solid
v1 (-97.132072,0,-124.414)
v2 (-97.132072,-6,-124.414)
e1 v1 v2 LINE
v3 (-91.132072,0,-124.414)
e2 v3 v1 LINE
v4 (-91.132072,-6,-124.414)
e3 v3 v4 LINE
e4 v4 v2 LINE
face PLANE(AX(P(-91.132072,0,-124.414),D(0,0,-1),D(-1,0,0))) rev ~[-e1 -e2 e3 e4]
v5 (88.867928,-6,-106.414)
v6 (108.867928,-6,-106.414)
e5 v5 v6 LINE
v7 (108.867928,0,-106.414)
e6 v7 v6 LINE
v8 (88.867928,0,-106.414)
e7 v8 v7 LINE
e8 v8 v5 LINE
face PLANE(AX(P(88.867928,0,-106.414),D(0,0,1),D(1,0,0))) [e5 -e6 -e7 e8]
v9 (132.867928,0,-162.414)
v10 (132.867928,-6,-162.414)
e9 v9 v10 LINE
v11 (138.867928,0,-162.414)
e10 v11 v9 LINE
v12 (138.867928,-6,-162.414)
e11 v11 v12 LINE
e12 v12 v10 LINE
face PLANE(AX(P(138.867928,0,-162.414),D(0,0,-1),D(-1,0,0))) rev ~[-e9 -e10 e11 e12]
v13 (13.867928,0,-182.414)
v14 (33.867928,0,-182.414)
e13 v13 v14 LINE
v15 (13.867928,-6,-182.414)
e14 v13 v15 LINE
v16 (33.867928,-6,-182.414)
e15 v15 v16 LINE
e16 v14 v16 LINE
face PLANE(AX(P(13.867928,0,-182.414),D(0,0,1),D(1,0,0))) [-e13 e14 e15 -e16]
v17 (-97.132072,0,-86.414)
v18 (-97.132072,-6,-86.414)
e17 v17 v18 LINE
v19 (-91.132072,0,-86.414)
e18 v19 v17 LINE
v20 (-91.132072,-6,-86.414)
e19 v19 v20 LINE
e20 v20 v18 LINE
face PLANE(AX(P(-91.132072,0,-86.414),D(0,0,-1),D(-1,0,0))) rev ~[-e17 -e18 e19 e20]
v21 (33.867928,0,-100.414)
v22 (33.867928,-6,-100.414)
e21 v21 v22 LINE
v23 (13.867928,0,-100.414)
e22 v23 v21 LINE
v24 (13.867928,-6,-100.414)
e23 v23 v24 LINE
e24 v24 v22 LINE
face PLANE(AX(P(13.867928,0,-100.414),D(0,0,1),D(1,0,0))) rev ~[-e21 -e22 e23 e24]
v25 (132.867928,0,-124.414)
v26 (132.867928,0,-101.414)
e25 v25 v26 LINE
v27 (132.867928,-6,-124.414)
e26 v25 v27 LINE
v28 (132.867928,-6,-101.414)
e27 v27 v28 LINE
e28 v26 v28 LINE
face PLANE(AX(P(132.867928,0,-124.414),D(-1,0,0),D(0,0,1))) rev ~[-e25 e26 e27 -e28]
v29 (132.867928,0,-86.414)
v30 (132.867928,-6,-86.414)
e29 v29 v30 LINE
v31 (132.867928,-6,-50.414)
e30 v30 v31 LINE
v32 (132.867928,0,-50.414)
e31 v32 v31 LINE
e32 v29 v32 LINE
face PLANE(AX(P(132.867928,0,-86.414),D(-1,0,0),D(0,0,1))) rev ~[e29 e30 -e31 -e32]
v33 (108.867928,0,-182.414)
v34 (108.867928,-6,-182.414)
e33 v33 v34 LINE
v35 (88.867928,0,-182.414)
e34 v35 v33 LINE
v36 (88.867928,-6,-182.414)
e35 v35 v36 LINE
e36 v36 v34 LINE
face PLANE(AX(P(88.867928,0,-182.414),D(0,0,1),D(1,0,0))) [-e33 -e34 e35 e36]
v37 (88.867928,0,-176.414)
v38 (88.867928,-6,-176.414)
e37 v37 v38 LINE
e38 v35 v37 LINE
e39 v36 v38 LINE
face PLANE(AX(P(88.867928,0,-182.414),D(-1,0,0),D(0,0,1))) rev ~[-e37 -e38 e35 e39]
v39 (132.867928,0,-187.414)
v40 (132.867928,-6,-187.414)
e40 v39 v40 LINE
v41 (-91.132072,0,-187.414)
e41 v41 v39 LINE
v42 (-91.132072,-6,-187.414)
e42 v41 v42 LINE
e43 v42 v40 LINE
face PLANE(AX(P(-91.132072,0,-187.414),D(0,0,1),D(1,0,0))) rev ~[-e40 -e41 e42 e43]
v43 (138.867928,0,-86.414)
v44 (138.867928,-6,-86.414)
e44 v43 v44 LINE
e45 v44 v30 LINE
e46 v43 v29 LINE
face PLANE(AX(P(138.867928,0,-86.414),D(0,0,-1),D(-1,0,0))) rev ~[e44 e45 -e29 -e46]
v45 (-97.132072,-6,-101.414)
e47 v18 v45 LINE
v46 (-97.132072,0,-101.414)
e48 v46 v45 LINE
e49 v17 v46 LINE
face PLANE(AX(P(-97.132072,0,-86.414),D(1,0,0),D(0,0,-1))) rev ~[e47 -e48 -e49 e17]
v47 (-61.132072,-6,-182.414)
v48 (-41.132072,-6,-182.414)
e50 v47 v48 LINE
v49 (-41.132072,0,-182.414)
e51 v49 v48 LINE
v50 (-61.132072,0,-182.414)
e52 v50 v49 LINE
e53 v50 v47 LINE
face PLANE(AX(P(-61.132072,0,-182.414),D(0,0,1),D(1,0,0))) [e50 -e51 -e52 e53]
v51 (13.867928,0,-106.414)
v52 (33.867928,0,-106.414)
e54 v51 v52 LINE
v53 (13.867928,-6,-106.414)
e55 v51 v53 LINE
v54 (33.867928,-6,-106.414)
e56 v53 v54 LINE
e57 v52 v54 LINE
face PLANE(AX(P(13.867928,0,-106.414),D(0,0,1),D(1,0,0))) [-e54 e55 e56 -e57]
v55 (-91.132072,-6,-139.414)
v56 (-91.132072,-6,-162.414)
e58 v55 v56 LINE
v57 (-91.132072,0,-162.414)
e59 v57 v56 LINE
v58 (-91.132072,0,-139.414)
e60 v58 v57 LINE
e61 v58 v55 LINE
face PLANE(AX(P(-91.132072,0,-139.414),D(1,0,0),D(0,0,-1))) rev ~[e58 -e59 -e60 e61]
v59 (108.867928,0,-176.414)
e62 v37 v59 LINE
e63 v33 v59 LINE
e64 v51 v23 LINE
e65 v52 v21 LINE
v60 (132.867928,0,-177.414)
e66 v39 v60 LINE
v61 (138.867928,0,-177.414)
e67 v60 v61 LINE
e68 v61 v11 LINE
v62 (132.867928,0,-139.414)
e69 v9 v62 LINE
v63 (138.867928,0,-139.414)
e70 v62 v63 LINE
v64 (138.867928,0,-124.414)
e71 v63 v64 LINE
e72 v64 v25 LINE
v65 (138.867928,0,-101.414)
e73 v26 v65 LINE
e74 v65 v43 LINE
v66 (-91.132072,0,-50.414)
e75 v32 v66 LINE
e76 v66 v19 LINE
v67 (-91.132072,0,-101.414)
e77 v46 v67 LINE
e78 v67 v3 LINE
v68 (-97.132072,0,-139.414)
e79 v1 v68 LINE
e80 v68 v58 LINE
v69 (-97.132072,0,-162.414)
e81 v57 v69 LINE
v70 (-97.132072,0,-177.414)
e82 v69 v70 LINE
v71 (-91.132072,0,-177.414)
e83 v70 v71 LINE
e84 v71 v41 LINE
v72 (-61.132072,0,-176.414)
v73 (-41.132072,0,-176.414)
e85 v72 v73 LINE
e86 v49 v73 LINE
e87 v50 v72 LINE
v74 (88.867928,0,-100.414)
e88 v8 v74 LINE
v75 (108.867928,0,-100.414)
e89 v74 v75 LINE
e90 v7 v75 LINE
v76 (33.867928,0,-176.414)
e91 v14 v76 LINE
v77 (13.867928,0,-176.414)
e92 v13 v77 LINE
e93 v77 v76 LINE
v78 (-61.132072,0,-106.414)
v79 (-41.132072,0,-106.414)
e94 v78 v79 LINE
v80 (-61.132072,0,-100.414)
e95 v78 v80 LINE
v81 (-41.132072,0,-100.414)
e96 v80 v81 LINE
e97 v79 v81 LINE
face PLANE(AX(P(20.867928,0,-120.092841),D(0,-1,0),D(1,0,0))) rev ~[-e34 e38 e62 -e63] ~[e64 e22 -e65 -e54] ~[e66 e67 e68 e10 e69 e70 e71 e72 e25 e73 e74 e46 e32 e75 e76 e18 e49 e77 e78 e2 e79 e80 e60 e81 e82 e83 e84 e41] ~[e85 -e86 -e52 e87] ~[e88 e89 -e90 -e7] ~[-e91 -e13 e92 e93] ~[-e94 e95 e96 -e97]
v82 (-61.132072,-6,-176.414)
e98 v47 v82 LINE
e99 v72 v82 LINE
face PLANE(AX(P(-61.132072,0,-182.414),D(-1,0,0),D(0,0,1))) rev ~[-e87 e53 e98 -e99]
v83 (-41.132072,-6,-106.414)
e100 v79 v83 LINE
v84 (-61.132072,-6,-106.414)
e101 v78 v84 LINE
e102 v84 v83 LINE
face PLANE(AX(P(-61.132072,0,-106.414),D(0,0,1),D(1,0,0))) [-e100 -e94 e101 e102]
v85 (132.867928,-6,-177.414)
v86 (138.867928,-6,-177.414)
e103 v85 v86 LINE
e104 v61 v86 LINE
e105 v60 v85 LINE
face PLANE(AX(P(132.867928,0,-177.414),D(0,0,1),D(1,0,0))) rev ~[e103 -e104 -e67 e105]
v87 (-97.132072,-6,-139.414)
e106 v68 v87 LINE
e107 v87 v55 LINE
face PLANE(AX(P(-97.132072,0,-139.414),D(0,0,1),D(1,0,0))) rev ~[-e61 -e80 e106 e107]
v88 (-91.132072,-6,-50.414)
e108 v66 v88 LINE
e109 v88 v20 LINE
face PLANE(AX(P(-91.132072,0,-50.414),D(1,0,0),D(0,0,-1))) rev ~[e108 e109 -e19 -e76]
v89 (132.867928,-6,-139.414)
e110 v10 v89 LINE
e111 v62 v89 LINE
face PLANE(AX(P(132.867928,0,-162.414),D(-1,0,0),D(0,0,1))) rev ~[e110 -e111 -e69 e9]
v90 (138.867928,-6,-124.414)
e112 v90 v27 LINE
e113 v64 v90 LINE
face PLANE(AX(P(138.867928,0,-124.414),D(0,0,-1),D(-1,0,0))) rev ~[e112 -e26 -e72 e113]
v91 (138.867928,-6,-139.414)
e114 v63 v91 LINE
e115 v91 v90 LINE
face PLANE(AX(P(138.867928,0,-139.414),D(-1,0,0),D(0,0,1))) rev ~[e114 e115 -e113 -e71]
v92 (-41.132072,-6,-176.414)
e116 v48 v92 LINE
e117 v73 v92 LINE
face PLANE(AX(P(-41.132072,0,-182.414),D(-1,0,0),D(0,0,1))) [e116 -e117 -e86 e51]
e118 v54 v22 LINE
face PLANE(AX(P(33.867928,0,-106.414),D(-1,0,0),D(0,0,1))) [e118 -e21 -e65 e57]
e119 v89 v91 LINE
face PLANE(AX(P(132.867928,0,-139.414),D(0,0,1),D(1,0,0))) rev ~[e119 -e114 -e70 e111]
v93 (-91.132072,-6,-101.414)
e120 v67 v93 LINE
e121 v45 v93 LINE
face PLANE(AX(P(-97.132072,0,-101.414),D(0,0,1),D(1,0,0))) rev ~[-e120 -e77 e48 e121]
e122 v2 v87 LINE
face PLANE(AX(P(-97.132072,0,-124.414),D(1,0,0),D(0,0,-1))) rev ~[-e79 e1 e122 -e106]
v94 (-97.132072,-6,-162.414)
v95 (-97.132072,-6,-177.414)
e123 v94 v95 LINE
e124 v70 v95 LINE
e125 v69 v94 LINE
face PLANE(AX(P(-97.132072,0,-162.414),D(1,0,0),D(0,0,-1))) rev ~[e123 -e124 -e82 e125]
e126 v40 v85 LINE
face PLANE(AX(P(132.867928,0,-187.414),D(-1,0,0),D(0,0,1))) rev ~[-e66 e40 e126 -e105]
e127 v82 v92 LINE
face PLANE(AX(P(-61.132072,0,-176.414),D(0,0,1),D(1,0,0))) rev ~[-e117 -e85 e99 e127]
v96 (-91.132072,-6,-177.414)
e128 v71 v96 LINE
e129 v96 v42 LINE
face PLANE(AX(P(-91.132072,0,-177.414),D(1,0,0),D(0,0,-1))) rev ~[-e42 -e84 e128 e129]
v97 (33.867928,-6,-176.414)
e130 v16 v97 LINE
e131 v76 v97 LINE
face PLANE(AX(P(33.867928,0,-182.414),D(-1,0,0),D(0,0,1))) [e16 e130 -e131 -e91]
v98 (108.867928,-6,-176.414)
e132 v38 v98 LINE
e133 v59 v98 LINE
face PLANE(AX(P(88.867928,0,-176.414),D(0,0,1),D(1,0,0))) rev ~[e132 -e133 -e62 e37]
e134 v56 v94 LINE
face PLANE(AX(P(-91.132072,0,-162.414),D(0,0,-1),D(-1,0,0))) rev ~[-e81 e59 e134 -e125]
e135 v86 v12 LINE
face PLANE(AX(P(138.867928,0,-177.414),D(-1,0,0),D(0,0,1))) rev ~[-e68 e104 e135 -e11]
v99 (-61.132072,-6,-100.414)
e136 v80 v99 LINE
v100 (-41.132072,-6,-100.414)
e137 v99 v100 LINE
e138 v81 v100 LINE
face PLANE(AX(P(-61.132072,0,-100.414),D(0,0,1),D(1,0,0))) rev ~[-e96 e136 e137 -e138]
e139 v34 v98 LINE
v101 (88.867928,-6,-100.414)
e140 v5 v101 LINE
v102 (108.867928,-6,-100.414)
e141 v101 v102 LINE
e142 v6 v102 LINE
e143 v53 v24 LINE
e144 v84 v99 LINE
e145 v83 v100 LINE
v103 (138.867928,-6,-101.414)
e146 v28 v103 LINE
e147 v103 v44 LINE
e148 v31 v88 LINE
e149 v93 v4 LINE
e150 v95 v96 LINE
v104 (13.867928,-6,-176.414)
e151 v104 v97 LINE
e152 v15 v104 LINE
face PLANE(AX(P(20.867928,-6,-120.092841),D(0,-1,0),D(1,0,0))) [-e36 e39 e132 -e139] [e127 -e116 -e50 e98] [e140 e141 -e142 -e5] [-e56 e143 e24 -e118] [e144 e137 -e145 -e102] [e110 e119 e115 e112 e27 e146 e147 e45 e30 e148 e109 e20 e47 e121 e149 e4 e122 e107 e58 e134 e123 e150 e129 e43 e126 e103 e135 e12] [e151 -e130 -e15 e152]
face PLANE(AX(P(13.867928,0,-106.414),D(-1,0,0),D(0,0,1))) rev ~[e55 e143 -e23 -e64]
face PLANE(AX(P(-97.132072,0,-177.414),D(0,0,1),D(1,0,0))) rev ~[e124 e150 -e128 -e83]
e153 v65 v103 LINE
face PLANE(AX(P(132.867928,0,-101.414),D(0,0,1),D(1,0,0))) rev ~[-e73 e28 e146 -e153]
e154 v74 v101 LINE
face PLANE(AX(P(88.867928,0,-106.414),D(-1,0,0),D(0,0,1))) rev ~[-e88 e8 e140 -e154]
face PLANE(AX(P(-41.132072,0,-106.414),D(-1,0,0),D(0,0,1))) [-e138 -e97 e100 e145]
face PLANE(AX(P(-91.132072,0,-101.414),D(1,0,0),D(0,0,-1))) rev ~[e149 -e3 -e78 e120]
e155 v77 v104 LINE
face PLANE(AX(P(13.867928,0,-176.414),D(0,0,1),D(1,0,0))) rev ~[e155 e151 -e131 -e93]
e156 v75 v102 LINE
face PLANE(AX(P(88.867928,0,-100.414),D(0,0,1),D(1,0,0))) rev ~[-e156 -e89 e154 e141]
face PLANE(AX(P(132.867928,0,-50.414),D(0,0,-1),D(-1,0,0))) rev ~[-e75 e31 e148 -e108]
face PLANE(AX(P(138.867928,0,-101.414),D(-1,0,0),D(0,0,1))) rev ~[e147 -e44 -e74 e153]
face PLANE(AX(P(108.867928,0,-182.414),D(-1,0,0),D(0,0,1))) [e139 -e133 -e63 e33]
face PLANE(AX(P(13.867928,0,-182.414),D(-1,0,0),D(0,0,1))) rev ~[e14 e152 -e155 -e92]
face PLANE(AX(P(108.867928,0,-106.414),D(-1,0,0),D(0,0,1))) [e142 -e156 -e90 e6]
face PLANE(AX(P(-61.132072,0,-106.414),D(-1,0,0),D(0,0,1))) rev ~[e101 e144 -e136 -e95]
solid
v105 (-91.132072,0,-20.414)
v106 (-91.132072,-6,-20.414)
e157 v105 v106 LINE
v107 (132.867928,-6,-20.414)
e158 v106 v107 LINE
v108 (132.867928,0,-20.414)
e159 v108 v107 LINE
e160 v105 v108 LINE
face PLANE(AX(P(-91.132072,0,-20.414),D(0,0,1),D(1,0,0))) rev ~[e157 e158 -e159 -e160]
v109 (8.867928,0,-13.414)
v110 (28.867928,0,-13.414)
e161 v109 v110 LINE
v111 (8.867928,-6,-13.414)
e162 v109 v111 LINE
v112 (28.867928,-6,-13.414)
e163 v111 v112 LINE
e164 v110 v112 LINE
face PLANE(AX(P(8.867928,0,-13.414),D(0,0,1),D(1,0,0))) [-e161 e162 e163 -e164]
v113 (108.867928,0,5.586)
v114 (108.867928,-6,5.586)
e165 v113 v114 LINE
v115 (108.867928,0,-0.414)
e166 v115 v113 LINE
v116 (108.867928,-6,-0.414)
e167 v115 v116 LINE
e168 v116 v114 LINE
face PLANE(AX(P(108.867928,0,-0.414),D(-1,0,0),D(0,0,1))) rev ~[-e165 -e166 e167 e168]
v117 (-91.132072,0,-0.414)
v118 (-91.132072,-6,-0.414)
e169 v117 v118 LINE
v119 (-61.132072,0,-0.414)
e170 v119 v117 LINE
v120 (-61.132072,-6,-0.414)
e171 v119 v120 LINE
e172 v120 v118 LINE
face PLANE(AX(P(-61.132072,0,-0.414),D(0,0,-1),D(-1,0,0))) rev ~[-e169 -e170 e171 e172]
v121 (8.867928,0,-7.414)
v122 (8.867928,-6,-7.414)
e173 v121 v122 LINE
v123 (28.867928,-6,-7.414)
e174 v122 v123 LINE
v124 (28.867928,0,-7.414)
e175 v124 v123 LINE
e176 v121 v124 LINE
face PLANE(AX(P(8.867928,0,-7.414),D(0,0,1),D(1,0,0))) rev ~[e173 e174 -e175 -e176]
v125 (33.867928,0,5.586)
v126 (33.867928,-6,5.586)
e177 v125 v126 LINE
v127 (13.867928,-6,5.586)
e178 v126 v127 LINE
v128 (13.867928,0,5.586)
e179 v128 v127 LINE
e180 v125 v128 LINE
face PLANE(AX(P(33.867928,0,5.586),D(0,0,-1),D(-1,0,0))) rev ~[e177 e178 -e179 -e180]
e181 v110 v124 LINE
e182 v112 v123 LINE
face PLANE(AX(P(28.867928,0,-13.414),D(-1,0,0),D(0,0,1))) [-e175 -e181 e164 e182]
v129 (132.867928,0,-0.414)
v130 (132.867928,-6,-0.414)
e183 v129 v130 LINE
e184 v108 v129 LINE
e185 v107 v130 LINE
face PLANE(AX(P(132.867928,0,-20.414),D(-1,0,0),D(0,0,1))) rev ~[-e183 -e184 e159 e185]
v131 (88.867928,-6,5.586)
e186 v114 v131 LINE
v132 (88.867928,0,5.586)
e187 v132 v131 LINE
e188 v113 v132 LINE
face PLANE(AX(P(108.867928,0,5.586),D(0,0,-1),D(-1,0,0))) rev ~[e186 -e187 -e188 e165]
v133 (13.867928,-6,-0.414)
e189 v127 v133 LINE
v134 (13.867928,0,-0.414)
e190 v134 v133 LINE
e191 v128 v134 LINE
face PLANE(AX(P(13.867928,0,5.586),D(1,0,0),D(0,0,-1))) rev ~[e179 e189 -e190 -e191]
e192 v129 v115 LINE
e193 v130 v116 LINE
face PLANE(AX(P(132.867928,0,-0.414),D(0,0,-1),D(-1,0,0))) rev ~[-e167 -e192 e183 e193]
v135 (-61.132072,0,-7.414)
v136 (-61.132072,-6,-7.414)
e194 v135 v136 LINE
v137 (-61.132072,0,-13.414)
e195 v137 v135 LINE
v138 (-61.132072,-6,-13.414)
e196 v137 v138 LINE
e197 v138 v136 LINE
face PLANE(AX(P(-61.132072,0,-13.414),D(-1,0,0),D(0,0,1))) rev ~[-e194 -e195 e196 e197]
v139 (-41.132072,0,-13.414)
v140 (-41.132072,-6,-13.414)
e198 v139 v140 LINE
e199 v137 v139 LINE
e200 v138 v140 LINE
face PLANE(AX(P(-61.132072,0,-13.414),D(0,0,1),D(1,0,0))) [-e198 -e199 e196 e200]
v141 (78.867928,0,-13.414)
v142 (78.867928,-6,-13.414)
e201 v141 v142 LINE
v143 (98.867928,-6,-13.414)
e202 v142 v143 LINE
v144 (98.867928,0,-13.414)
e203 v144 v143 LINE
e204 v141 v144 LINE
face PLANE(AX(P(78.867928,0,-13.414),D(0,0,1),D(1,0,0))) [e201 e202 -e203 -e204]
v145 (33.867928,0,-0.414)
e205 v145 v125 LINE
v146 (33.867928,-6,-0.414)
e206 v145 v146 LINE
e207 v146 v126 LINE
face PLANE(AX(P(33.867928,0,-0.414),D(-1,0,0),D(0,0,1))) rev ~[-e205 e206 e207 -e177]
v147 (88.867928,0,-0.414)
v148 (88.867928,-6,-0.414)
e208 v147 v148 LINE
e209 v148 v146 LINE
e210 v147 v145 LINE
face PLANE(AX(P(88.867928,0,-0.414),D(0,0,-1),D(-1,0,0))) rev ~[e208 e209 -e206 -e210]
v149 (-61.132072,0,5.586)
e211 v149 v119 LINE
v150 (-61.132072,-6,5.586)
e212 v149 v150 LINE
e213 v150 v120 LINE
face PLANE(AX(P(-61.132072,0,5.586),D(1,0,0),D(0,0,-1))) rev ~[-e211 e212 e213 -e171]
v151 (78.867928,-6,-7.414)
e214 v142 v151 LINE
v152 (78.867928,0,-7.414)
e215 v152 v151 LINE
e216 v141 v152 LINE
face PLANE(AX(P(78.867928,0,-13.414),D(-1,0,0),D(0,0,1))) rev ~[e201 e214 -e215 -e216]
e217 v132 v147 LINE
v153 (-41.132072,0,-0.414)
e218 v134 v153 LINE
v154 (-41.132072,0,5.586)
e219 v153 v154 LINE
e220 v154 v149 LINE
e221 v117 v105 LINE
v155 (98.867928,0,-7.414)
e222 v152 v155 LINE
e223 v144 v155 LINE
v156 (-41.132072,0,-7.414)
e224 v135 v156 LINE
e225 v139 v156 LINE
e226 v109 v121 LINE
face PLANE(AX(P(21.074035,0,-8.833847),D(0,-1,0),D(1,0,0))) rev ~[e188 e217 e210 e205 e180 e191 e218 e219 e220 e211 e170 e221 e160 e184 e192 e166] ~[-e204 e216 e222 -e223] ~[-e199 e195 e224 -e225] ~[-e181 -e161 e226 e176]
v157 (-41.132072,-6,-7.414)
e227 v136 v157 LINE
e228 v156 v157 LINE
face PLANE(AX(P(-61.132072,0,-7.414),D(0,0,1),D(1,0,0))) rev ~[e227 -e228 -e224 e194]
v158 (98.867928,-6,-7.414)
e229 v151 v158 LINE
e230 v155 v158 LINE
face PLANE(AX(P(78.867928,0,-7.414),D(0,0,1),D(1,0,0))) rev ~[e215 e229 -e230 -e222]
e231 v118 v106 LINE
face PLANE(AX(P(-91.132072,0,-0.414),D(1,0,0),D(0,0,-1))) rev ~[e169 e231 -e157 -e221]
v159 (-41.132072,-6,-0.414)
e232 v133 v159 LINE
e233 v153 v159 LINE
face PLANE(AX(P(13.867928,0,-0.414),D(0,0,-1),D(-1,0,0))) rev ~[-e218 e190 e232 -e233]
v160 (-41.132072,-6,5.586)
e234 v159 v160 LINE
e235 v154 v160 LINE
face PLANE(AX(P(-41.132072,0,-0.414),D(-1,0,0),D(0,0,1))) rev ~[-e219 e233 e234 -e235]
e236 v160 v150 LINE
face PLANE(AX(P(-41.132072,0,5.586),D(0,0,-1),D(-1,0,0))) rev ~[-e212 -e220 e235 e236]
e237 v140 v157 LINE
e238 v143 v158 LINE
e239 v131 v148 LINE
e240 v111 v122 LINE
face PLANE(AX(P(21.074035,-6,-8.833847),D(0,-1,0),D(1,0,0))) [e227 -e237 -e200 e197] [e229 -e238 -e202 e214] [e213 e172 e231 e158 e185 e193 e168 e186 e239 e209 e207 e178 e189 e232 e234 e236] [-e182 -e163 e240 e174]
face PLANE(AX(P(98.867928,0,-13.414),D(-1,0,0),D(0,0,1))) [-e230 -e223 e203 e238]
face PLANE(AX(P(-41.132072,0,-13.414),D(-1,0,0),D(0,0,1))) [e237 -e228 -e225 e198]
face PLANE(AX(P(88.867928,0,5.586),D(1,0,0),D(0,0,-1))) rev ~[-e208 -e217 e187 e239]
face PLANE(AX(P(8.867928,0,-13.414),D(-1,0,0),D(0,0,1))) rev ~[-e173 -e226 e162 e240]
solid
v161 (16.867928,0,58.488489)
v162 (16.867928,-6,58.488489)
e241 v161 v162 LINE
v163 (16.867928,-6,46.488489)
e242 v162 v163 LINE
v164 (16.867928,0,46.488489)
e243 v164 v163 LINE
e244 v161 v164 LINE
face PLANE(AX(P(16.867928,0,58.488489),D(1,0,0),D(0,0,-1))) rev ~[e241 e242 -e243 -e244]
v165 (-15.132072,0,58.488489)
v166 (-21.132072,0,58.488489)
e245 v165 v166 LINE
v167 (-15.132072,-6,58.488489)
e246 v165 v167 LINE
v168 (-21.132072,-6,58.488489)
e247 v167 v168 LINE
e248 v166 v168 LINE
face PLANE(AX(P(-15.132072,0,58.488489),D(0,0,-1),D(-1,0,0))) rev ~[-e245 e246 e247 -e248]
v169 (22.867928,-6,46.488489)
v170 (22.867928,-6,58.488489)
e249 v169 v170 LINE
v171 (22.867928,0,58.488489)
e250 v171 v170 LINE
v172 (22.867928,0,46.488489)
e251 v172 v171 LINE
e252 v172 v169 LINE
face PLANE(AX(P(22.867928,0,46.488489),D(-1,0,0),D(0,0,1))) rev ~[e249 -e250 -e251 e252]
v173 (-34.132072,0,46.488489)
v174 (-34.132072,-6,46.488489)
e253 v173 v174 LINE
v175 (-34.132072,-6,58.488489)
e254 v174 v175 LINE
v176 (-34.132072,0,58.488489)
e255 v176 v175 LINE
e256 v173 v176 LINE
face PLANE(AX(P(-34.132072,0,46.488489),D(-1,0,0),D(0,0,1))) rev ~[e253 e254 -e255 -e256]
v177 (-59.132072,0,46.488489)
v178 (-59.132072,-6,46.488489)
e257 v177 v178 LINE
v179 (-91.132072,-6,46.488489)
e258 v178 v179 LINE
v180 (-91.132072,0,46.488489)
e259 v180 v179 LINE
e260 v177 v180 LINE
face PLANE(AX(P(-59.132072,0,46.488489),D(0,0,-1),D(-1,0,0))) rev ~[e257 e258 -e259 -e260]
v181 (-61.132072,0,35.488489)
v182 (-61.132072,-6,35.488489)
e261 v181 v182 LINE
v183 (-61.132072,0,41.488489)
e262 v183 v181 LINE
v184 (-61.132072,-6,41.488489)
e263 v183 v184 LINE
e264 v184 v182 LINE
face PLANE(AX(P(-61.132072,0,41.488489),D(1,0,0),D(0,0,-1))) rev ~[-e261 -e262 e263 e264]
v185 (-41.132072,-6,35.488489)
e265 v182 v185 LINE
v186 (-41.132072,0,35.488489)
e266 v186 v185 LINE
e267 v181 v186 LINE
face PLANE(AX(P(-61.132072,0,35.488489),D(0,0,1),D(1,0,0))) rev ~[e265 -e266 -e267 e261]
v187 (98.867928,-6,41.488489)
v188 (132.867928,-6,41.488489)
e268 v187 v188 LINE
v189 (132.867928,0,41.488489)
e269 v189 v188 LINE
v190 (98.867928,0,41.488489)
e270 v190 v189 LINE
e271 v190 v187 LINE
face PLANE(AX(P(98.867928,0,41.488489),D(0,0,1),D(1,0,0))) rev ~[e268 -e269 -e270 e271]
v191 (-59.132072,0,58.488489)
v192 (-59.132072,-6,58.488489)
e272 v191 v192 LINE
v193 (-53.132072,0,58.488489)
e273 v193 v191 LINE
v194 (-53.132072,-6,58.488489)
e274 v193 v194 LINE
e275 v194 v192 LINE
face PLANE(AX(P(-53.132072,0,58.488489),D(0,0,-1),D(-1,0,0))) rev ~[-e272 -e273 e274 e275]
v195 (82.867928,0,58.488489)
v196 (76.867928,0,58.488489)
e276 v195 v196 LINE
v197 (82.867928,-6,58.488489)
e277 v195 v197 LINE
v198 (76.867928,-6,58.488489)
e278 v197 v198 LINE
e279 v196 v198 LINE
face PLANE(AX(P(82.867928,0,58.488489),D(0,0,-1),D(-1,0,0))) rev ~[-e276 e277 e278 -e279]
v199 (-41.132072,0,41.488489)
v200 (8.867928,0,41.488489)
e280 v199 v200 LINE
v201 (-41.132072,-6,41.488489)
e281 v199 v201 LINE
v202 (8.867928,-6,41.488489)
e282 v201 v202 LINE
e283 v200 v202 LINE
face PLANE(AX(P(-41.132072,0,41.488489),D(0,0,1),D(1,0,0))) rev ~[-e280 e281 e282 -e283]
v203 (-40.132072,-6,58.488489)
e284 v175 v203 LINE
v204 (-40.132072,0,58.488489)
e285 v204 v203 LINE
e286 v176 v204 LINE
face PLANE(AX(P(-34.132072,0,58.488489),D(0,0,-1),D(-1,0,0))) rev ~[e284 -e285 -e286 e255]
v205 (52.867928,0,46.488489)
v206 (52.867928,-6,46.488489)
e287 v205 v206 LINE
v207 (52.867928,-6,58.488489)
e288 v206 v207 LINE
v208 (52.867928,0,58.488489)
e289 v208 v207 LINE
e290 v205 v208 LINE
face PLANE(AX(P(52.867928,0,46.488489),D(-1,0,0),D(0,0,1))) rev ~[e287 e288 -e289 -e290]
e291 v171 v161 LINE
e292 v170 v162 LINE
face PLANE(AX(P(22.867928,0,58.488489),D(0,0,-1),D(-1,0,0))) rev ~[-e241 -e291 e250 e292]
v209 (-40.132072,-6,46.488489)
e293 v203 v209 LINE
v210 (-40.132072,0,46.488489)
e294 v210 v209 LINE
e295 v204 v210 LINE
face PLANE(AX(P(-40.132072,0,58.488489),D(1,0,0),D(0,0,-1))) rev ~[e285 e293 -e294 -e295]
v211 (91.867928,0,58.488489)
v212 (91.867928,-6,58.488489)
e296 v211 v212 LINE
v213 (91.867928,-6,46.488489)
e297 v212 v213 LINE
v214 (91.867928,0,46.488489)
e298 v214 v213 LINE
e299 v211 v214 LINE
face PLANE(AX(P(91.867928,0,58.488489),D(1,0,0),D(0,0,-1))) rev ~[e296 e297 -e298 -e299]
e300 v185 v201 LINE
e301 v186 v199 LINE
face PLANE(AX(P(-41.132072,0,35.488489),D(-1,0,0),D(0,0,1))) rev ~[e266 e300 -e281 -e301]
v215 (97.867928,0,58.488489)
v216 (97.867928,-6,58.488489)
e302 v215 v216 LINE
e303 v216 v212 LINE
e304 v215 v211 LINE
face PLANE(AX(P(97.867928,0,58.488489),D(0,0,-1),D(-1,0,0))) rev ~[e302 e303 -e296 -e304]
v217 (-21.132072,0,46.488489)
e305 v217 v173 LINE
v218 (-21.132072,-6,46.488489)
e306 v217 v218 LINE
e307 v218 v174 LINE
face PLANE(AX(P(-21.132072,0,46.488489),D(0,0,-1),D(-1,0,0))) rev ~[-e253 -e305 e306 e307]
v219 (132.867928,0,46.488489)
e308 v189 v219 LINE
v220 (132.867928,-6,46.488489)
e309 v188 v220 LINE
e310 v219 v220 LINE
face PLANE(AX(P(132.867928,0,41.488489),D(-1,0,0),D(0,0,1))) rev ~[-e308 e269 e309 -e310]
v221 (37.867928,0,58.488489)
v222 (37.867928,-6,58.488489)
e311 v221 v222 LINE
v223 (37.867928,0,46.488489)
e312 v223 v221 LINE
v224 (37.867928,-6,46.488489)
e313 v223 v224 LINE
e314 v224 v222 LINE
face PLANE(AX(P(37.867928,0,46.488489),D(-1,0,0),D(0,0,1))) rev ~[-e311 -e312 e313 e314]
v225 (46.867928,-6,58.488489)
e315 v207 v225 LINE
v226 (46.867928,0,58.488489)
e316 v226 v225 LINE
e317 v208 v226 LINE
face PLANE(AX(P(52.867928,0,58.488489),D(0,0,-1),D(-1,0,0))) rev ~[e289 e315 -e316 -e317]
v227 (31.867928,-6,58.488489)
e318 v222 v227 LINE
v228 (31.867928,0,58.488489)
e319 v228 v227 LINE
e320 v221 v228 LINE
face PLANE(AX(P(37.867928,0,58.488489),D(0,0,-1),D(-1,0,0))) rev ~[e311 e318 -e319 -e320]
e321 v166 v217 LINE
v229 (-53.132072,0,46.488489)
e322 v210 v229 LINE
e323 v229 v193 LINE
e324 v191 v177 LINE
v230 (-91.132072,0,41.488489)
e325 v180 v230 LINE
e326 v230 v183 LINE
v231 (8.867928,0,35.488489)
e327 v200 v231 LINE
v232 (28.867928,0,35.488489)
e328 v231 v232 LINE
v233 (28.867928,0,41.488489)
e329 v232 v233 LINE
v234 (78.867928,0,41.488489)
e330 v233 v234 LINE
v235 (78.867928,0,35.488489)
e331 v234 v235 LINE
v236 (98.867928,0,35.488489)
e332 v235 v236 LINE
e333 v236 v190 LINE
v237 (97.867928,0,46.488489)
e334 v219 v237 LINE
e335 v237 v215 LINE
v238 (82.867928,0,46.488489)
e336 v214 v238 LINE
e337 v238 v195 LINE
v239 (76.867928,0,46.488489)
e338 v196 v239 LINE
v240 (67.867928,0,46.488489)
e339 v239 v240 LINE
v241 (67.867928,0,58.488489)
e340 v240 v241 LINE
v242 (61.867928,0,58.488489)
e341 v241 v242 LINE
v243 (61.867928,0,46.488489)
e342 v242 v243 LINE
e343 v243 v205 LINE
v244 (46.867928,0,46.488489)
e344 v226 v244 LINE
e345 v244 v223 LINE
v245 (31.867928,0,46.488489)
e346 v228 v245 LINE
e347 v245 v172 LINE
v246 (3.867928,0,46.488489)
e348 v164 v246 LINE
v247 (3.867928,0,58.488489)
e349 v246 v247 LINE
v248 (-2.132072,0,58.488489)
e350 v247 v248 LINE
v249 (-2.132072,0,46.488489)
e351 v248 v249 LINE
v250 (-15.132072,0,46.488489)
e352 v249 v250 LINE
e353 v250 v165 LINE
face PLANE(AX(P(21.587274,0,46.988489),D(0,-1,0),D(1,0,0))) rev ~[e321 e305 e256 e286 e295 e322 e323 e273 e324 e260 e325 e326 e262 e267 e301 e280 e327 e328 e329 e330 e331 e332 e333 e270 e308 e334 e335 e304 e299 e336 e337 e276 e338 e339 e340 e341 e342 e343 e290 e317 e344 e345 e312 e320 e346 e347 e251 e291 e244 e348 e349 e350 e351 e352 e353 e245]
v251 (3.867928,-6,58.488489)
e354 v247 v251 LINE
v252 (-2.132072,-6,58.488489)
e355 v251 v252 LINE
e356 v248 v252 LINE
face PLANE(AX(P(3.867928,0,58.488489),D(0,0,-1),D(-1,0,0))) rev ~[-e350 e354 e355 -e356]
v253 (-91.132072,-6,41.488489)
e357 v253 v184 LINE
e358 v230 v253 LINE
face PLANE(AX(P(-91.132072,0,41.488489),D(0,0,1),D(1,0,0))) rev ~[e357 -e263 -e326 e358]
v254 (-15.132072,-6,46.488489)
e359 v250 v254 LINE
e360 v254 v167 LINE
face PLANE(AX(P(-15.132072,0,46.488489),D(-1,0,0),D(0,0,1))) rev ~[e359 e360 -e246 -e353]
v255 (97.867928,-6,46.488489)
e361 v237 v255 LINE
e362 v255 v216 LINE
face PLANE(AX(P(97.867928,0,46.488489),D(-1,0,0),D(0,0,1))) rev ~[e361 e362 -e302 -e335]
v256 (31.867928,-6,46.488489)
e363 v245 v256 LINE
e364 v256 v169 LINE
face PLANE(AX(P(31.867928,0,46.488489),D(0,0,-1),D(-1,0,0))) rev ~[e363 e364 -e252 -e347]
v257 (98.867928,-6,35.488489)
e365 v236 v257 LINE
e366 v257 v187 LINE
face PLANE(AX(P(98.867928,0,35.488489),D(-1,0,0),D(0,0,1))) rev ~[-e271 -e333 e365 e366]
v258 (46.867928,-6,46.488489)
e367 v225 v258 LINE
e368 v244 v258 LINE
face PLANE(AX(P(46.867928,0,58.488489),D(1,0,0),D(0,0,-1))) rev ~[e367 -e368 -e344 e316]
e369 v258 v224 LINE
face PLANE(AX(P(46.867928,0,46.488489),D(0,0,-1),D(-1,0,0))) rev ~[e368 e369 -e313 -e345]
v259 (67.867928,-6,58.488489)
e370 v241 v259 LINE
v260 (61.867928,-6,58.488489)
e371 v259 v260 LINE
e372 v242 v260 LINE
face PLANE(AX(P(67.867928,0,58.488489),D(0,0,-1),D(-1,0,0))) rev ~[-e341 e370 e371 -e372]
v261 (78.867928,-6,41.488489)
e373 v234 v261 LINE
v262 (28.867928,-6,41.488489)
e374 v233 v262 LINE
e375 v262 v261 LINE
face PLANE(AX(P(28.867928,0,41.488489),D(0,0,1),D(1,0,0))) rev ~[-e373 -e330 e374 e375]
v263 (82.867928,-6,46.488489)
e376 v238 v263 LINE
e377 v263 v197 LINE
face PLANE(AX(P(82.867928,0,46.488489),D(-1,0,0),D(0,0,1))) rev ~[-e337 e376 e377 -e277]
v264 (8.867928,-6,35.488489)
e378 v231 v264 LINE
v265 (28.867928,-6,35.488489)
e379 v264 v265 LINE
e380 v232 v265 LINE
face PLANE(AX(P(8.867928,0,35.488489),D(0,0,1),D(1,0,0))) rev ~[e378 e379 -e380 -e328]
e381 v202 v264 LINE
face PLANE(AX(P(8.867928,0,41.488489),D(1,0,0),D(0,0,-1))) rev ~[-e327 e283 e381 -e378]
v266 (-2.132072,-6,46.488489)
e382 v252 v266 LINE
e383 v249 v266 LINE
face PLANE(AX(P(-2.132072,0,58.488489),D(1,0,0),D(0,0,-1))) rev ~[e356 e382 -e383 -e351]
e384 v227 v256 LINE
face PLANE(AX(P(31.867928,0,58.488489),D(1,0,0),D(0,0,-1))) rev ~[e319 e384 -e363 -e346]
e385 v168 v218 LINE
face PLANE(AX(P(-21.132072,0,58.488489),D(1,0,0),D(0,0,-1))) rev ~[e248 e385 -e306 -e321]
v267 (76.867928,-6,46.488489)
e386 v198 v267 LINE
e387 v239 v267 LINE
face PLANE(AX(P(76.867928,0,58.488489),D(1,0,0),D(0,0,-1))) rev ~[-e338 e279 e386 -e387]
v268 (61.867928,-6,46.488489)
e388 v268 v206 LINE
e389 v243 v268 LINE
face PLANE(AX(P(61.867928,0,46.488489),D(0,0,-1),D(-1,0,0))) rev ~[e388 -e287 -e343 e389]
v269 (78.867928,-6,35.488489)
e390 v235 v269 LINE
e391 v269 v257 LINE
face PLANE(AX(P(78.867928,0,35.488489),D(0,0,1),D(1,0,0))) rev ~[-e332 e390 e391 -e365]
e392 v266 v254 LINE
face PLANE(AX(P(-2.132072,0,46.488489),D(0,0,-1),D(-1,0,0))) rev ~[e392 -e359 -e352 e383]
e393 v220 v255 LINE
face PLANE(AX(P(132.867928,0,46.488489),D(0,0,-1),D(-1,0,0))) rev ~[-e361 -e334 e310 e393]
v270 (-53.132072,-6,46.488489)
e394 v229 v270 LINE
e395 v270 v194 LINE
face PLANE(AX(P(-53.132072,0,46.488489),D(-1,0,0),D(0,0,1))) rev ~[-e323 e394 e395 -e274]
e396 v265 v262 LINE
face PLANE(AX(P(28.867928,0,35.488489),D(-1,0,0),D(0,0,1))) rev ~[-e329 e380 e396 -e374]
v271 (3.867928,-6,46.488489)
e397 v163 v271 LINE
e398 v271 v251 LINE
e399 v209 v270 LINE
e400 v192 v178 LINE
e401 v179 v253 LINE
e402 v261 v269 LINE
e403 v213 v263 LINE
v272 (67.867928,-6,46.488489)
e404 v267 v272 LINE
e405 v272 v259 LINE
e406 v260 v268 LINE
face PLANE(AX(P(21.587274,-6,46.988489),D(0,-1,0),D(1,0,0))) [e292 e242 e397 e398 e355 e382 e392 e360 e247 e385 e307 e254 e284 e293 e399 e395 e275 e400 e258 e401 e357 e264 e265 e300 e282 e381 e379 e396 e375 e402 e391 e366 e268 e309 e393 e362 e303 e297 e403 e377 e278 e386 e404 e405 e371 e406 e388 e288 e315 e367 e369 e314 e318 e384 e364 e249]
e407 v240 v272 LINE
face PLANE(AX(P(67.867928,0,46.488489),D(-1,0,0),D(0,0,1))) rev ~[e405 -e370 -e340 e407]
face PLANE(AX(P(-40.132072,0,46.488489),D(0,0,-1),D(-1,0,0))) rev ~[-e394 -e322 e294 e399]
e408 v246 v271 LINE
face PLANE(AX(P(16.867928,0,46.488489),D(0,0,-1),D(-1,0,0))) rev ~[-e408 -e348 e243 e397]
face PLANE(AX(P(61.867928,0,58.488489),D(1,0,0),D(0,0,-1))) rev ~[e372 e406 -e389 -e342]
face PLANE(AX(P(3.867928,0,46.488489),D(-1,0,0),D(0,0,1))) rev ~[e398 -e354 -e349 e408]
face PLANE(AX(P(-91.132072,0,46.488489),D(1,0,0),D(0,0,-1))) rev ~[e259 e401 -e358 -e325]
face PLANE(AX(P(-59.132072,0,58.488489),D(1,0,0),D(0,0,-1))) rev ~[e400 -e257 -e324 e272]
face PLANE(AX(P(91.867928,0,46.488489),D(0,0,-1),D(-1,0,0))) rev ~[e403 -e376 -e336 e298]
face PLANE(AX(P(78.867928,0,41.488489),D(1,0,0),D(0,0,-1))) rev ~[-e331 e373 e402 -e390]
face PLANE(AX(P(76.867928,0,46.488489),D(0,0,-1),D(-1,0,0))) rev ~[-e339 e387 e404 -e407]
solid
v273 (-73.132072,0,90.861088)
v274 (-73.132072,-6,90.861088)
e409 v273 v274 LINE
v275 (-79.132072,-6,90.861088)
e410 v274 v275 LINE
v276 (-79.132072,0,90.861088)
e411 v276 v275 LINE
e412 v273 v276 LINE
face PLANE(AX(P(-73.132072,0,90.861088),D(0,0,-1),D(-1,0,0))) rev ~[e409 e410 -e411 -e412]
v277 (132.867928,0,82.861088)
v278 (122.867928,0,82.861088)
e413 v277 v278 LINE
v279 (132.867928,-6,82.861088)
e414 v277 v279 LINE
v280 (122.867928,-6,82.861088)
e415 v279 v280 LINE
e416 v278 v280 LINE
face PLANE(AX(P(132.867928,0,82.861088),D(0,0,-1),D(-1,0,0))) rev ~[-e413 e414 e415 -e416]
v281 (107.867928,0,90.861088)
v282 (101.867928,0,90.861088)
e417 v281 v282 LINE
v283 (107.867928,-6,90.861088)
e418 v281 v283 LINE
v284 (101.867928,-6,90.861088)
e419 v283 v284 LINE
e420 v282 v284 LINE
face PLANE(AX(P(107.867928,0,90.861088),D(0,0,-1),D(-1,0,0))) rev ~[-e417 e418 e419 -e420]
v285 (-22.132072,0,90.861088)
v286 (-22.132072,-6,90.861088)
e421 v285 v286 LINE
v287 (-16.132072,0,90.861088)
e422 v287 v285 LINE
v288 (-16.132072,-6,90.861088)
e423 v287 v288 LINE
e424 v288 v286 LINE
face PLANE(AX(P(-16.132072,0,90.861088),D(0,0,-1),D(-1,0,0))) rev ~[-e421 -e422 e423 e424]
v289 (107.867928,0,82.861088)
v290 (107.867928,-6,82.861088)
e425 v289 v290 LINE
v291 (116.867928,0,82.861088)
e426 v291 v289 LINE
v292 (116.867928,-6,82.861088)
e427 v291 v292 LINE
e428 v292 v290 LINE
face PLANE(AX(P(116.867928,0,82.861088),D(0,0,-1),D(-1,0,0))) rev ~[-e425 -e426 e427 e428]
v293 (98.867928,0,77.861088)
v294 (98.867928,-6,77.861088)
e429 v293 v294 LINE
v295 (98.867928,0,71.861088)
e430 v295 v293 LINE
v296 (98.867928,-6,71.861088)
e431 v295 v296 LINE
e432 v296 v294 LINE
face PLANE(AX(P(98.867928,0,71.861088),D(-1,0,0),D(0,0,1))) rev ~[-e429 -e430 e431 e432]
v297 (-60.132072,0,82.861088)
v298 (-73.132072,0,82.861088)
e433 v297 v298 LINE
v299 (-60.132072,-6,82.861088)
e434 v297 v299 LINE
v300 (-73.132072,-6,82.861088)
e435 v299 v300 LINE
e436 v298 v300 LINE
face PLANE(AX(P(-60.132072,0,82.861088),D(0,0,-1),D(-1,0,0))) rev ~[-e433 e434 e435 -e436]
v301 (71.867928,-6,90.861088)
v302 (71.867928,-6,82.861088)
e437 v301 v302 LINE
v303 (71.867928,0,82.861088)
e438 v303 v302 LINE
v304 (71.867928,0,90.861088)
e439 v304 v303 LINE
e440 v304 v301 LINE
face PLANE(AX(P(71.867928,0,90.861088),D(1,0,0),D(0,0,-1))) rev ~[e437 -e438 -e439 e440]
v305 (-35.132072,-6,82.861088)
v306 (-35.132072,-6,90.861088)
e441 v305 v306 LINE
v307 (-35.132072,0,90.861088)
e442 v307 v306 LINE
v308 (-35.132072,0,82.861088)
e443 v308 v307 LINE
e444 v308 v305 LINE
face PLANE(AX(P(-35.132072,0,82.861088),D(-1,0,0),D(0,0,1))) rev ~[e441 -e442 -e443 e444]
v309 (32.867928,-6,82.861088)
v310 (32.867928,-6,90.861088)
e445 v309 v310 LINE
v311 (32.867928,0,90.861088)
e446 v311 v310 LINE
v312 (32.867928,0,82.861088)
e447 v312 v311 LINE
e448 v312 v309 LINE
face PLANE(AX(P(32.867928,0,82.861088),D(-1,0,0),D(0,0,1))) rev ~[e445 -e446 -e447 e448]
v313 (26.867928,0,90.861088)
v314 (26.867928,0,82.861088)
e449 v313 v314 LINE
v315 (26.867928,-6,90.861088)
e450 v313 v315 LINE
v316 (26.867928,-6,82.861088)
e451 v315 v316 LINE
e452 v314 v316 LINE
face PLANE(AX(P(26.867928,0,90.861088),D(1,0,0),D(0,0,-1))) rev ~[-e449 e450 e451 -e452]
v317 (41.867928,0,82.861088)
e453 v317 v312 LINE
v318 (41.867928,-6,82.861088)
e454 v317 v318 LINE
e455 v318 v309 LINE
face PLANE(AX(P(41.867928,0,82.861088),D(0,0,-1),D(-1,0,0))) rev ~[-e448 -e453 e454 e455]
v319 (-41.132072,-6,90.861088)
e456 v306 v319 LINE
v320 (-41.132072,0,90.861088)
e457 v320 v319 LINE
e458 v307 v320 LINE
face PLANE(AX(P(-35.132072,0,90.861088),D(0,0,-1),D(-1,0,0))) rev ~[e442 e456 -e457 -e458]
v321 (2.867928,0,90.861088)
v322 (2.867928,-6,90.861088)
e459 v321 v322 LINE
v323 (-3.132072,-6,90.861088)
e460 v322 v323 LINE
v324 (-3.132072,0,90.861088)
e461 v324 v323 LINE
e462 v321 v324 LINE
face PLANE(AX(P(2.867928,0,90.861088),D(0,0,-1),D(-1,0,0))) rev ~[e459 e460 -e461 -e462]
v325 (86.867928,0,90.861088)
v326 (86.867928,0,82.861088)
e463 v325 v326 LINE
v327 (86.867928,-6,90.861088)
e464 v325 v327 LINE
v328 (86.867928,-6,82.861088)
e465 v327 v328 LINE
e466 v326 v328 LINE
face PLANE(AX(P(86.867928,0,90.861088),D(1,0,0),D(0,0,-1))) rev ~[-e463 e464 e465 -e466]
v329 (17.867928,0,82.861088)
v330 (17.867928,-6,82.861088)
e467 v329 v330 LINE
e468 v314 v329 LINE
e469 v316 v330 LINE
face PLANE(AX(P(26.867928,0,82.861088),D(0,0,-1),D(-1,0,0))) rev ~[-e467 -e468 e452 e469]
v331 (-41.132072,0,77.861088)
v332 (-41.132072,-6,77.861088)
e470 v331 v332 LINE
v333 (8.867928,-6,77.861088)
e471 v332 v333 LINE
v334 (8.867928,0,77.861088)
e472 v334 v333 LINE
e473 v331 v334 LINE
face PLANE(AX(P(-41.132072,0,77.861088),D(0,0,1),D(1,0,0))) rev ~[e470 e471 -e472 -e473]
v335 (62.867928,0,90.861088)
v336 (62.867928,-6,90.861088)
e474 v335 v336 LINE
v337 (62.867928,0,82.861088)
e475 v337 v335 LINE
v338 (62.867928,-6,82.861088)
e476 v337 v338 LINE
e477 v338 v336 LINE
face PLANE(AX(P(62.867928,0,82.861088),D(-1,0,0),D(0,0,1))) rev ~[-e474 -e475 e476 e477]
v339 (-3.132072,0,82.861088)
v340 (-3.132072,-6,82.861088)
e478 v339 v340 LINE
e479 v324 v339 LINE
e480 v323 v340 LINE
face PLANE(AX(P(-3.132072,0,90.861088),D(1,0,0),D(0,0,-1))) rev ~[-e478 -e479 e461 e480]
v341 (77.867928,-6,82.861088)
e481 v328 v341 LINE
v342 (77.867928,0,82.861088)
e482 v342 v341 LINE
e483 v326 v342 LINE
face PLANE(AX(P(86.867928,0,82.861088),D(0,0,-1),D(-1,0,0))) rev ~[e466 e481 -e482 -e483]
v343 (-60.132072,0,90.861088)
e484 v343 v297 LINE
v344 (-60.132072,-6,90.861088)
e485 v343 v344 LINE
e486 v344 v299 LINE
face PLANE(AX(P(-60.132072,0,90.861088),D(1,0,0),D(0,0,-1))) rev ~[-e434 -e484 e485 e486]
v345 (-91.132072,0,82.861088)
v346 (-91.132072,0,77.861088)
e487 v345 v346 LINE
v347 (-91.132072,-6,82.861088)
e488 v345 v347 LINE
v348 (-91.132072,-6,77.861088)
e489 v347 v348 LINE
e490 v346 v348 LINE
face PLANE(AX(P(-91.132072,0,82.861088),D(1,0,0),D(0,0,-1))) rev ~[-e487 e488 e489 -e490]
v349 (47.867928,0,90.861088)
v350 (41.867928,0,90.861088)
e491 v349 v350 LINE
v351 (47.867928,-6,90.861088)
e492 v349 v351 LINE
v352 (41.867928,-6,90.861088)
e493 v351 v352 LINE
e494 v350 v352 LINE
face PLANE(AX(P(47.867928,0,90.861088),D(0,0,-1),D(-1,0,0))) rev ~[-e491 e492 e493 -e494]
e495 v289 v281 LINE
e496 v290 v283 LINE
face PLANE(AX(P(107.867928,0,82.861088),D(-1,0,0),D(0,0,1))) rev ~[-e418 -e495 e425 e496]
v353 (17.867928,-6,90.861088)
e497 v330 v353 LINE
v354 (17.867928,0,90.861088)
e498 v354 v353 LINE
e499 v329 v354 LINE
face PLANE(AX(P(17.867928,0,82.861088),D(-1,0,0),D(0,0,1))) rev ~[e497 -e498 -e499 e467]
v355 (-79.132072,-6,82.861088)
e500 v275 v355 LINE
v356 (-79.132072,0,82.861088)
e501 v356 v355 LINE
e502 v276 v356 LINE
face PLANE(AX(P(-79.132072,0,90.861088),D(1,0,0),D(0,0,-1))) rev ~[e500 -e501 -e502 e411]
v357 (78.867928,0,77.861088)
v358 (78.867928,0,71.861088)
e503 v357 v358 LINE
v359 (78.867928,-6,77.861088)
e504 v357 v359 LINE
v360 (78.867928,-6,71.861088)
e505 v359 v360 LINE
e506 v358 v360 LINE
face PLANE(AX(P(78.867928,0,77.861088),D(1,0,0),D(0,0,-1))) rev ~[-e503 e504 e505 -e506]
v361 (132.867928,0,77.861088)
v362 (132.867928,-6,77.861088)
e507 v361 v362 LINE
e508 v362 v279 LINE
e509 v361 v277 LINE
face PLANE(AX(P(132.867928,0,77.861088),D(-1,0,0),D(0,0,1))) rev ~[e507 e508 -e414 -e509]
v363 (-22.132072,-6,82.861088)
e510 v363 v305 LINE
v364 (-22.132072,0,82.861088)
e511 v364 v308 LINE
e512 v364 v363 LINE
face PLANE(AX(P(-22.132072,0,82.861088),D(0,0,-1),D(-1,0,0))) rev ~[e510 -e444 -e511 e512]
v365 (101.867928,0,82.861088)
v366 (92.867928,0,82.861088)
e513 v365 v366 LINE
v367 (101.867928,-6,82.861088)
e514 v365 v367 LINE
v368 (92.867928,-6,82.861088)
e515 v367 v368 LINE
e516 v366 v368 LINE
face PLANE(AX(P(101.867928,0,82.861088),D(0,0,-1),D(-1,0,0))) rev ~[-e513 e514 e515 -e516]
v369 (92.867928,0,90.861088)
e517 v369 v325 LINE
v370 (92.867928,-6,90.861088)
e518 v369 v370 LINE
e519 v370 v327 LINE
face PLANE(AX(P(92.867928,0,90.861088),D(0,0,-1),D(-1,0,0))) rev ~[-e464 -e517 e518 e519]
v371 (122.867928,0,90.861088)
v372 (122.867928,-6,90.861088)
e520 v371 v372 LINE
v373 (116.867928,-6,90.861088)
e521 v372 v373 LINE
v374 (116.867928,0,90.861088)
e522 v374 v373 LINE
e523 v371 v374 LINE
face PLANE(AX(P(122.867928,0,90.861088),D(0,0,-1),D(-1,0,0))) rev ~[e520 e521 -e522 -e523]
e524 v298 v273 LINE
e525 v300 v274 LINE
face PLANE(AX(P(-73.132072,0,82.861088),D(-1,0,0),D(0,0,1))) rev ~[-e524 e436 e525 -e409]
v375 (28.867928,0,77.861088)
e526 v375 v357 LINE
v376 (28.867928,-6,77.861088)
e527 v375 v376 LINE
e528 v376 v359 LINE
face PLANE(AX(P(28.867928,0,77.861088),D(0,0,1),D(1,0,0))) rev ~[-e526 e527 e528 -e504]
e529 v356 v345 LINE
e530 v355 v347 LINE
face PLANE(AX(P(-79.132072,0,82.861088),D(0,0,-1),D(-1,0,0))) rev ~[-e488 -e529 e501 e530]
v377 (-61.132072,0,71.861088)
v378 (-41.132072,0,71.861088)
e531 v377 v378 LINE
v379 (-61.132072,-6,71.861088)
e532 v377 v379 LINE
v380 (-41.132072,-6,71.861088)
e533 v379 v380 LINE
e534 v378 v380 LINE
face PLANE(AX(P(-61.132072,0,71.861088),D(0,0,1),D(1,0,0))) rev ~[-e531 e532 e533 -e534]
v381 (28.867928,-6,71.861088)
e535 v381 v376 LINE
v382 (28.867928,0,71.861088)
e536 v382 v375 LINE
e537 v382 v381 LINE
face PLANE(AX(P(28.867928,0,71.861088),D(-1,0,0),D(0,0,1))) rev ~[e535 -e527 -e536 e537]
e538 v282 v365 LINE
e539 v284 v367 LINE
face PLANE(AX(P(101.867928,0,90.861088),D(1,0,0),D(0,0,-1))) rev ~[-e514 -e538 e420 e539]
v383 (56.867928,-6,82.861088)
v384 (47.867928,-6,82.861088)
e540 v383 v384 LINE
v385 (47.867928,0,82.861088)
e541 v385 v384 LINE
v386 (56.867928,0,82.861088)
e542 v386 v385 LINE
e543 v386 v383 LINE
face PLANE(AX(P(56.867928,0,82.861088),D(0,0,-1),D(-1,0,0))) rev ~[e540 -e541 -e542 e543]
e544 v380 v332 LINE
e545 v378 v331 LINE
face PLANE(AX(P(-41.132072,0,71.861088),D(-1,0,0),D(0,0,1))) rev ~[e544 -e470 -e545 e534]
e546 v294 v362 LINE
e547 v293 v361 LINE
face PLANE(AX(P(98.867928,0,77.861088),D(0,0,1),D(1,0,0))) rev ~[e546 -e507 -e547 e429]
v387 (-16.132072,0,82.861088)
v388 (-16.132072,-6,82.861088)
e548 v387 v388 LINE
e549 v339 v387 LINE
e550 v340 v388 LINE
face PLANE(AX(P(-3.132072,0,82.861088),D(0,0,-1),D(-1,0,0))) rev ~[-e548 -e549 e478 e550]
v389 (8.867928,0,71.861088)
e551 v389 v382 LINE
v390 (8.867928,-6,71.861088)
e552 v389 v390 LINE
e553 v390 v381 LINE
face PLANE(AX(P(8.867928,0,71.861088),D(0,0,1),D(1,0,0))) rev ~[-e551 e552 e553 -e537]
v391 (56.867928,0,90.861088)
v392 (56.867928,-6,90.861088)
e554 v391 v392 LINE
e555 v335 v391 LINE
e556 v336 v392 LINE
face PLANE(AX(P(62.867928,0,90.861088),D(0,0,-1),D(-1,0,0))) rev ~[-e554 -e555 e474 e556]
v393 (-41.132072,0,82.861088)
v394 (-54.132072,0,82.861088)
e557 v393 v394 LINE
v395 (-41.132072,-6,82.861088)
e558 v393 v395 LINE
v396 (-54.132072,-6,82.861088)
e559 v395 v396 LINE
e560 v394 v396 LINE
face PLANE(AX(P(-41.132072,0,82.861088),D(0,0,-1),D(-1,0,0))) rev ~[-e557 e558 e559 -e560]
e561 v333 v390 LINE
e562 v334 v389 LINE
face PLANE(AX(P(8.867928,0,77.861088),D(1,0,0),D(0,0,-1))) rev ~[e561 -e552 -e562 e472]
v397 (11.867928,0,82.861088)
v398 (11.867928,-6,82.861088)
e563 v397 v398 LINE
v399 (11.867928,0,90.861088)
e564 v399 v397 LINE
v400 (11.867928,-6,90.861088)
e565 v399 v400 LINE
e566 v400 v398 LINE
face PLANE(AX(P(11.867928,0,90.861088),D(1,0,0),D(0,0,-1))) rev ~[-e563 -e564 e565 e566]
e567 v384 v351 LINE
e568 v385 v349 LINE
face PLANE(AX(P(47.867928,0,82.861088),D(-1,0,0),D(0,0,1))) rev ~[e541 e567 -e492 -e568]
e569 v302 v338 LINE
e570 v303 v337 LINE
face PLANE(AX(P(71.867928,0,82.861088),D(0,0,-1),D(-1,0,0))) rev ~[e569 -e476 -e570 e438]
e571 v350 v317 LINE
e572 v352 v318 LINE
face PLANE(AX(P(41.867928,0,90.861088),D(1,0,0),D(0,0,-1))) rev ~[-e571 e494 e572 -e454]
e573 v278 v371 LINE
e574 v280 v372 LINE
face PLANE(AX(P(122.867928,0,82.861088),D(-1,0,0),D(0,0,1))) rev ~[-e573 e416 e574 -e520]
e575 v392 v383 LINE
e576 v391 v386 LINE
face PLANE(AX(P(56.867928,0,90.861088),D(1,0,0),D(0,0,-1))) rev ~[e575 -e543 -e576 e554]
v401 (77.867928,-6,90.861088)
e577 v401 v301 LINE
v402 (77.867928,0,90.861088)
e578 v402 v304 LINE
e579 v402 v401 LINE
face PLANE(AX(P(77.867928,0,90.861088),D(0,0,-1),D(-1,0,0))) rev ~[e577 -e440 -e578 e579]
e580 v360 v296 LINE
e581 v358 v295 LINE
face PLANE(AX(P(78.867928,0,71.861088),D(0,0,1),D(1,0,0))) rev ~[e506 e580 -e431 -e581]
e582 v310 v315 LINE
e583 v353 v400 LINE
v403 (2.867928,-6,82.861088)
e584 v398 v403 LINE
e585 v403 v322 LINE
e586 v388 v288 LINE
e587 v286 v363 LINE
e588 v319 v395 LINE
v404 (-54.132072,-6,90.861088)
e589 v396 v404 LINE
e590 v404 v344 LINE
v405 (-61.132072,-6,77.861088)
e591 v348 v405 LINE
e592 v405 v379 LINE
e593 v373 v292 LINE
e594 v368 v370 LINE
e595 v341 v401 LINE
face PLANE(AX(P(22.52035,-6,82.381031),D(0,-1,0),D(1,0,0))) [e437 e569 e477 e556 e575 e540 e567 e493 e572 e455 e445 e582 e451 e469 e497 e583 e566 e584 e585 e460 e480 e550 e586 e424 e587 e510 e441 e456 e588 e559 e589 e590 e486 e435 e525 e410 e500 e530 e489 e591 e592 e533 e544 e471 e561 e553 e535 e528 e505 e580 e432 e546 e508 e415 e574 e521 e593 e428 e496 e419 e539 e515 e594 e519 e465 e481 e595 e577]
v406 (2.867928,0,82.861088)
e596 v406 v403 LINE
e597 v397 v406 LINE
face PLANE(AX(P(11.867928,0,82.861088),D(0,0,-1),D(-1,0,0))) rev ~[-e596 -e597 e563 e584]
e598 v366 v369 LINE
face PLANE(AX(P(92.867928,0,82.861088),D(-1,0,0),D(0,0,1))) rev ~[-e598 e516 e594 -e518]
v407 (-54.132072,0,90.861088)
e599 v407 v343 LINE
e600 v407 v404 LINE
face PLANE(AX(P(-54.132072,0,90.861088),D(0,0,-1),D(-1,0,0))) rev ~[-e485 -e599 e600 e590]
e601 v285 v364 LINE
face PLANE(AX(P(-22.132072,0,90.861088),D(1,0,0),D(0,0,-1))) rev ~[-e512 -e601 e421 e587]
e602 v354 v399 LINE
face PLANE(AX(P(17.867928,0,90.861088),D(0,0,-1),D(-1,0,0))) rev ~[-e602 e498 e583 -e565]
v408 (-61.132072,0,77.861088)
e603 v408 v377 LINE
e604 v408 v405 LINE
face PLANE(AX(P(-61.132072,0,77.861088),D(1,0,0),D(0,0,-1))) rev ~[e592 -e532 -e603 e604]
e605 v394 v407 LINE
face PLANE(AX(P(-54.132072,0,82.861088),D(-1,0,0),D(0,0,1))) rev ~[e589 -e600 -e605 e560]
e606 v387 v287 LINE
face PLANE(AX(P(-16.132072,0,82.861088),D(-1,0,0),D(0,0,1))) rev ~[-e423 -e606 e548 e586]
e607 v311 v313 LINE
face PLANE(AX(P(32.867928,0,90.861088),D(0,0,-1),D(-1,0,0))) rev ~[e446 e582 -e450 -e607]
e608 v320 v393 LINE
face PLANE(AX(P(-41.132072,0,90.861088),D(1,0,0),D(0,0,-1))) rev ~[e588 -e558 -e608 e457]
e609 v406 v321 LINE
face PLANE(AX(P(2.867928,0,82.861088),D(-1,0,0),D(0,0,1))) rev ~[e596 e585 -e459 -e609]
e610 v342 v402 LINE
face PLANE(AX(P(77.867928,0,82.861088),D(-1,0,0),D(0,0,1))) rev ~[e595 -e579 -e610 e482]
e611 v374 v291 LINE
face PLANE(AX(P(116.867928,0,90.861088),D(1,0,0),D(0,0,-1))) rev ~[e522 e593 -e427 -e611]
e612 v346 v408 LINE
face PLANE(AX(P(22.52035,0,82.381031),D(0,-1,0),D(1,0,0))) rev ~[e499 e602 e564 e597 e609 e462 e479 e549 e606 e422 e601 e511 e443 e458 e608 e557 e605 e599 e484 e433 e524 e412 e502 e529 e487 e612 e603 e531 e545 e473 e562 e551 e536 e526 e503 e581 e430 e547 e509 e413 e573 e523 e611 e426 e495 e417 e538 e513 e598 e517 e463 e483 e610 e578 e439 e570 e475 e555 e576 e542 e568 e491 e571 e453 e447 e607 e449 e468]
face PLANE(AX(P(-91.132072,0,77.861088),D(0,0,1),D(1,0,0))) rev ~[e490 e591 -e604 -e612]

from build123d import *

# Parameters (mm, degrees)
F0_W     = 20
F0_H     = 6
F1_DEPTH = 6
F2_DEPTH = 6
F3_DEPTH = 6
F4_DEPTH = 6


with BuildPart() as f1:
    # F0 (on Front) → F1 (new body)
    with BuildSketch(Plane.XZ):
        Polygon((132.867928, -50.414), (-91.132072, -50.414), (-91.132072, -86.414), (-97.132072, -86.414), (-97.132072, -101.414), (-91.132072, -101.414), (-91.132072, -124.414), (-97.132072, -124.414), (-97.132072, -139.414), (-91.132072, -139.414), (-91.132072, -162.414), (-97.132072, -162.414), (-97.132072, -177.414), (-91.132072, -177.414), (-91.132072, -187.414), (132.867928, -187.414), (132.867928, -177.414), (138.867928, -177.414), (138.867928, -162.414), (132.867928, -162.414), (132.867928, -139.414), (138.867928, -139.414), (138.867928, -124.414), (132.867928, -124.414), (132.867928, -101.414), (138.867928, -101.414), (138.867928, -86.414), (132.867928, -86.414), align=None)
        with Locations((-51.132072, -179.414)):
            Rectangle(F0_W, F0_H, mode=Mode.SUBTRACT)
        with Locations((-51.132072, -103.414)):
            Rectangle(F0_W, F0_H, mode=Mode.SUBTRACT)
        with Locations((23.867928, -179.414)):
            Rectangle(F0_W, F0_H, mode=Mode.SUBTRACT)
        with Locations((98.867928, -179.414)):
            Rectangle(F0_W, F0_H, mode=Mode.SUBTRACT)
        with Locations((23.867928, -103.414)):
            Rectangle(F0_W, F0_H, mode=Mode.SUBTRACT)
        with Locations((98.867928, -103.414)):
            Rectangle(F0_W, F0_H, mode=Mode.SUBTRACT)
    extrude(amount=F1_DEPTH)


with BuildPart() as f2:
    # F0 (on Front) → F2 (new body)
    with BuildSketch(Plane.XZ):
        Polygon((-61.132072, -0.414), (-91.132072, -0.414), (-91.132072, -20.414), (132.867928, -20.414), (132.867928, -0.414), (108.867928, -0.414), (108.867928, 5.586), (88.867928, 5.586), (88.867928, -0.414), (33.867928, -0.414), (33.867928, 5.586), (13.867928, 5.586), (13.867928, -0.414), (-41.132072, -0.414), (-41.132072, 5.586), (-61.132072, 5.586), align=None)
        with Locations((-51.132072, -10.414)):
            Rectangle(F0_W, F0_H, mode=Mode.SUBTRACT)
        with Locations((18.867928, -10.414)):
            Rectangle(F0_W, F0_H, mode=Mode.SUBTRACT)
        with Locations((88.867928, -10.414)):
            Rectangle(F0_W, F0_H, mode=Mode.SUBTRACT)
    extrude(amount=F2_DEPTH)


with BuildPart() as f3:
    # F0 (on Front) → F3 (new body)
    with BuildSketch(Plane.XZ):
        Polygon((16.867928, 58.488489), (16.867928, 46.488489), (3.867928, 46.488489), (3.867928, 58.488489), (-2.132072, 58.488489), (-2.132072, 46.488489), (-15.132072, 46.488489), (-15.132072, 58.488489), (-21.132072, 58.488489), (-21.132072, 46.488489), (-34.132072, 46.488489), (-34.132072, 58.488489), (-40.132072, 58.488489), (-40.132072, 46.488489), (-53.132072, 46.488489), (-53.132072, 58.488489), (-59.132072, 58.488489), (-59.132072, 46.488489), (-91.132072, 46.488489), (-91.132072, 41.488489), (-61.132072, 41.488489), (-61.132072, 35.488489), (-41.132072, 35.488489), (-41.132072, 41.488489), (8.867928, 41.488489), (8.867928, 35.488489), (28.867928, 35.488489), (28.867928, 41.488489), (78.867928, 41.488489), (78.867928, 35.488489), (98.867928, 35.488489), (98.867928, 41.488489), (132.867928, 41.488489), (132.867928, 46.488489), (97.867928, 46.488489), (97.867928, 58.488489), (91.867928, 58.488489), (91.867928, 46.488489), (82.867928, 46.488489), (82.867928, 58.488489), (76.867928, 58.488489), (76.867928, 46.488489), (67.867928, 46.488489), (67.867928, 58.488489), (61.867928, 58.488489), (61.867928, 46.488489), (52.867928, 46.488489), (52.867928, 58.488489), (46.867928, 58.488489), (46.867928, 46.488489), (37.867928, 46.488489), (37.867928, 58.488489), (31.867928, 58.488489), (31.867928, 46.488489), (22.867928, 46.488489), (22.867928, 58.488489), align=None)
    extrude(amount=F3_DEPTH)


with BuildPart() as f4:
    # F0 (on Front) → F4 (new body)
    with BuildSketch(Plane.XZ):
        Polygon((-79.132072, 90.861088), (-79.132072, 82.861088), (-91.132072, 82.861088), (-91.132072, 77.861088), (-61.132072, 77.861088), (-61.132072, 71.861088), (-41.132072, 71.861088), (-41.132072, 77.861088), (8.867928, 77.861088), (8.867928, 71.861088), (28.867928, 71.861088), (28.867928, 77.861088), (78.867928, 77.861088), (78.867928, 71.861088), (98.867928, 71.861088), (98.867928, 77.861088), (132.867928, 77.861088), (132.867928, 82.861088), (122.867928, 82.861088), (122.867928, 90.861088), (116.867928, 90.861088), (116.867928, 82.861088), (107.867928, 82.861088), (107.867928, 90.861088), (101.867928, 90.861088), (101.867928, 82.861088), (92.867928, 82.861088), (92.867928, 90.861088), (86.867928, 90.861088), (86.867928, 82.861088), (77.867928, 82.861088), (77.867928, 90.861088), (71.867928, 90.861088), (71.867928, 82.861088), (62.867928, 82.861088), (62.867928, 90.861088), (56.867928, 90.861088), (56.867928, 82.861088), (47.867928, 82.861088), (47.867928, 90.861088), (41.867928, 90.861088), (41.867928, 82.861088), (32.867928, 82.861088), (32.867928, 90.861088), (26.867928, 90.861088), (26.867928, 82.861088), (17.867928, 82.861088), (17.867928, 90.861088), (11.867928, 90.861088), (11.867928, 82.861088), (2.867928, 82.861088), (2.867928, 90.861088), (-3.132072, 90.861088), (-3.132072, 82.861088), (-16.132072, 82.861088), (-16.132072, 90.861088), (-22.132072, 90.861088), (-22.132072, 82.861088), (-35.132072, 82.861088), (-35.132072, 90.861088), (-41.132072, 90.861088), (-41.132072, 82.861088), (-54.132072, 82.861088), (-54.132072, 90.861088), (-60.132072, 90.861088), (-60.132072, 82.861088), (-73.132072, 82.861088), (-73.132072, 90.861088), align=None)
    extrude(amount=F4_DEPTH)


solid = Compound([f1.part, f2.part, f3.part, f4.part])
